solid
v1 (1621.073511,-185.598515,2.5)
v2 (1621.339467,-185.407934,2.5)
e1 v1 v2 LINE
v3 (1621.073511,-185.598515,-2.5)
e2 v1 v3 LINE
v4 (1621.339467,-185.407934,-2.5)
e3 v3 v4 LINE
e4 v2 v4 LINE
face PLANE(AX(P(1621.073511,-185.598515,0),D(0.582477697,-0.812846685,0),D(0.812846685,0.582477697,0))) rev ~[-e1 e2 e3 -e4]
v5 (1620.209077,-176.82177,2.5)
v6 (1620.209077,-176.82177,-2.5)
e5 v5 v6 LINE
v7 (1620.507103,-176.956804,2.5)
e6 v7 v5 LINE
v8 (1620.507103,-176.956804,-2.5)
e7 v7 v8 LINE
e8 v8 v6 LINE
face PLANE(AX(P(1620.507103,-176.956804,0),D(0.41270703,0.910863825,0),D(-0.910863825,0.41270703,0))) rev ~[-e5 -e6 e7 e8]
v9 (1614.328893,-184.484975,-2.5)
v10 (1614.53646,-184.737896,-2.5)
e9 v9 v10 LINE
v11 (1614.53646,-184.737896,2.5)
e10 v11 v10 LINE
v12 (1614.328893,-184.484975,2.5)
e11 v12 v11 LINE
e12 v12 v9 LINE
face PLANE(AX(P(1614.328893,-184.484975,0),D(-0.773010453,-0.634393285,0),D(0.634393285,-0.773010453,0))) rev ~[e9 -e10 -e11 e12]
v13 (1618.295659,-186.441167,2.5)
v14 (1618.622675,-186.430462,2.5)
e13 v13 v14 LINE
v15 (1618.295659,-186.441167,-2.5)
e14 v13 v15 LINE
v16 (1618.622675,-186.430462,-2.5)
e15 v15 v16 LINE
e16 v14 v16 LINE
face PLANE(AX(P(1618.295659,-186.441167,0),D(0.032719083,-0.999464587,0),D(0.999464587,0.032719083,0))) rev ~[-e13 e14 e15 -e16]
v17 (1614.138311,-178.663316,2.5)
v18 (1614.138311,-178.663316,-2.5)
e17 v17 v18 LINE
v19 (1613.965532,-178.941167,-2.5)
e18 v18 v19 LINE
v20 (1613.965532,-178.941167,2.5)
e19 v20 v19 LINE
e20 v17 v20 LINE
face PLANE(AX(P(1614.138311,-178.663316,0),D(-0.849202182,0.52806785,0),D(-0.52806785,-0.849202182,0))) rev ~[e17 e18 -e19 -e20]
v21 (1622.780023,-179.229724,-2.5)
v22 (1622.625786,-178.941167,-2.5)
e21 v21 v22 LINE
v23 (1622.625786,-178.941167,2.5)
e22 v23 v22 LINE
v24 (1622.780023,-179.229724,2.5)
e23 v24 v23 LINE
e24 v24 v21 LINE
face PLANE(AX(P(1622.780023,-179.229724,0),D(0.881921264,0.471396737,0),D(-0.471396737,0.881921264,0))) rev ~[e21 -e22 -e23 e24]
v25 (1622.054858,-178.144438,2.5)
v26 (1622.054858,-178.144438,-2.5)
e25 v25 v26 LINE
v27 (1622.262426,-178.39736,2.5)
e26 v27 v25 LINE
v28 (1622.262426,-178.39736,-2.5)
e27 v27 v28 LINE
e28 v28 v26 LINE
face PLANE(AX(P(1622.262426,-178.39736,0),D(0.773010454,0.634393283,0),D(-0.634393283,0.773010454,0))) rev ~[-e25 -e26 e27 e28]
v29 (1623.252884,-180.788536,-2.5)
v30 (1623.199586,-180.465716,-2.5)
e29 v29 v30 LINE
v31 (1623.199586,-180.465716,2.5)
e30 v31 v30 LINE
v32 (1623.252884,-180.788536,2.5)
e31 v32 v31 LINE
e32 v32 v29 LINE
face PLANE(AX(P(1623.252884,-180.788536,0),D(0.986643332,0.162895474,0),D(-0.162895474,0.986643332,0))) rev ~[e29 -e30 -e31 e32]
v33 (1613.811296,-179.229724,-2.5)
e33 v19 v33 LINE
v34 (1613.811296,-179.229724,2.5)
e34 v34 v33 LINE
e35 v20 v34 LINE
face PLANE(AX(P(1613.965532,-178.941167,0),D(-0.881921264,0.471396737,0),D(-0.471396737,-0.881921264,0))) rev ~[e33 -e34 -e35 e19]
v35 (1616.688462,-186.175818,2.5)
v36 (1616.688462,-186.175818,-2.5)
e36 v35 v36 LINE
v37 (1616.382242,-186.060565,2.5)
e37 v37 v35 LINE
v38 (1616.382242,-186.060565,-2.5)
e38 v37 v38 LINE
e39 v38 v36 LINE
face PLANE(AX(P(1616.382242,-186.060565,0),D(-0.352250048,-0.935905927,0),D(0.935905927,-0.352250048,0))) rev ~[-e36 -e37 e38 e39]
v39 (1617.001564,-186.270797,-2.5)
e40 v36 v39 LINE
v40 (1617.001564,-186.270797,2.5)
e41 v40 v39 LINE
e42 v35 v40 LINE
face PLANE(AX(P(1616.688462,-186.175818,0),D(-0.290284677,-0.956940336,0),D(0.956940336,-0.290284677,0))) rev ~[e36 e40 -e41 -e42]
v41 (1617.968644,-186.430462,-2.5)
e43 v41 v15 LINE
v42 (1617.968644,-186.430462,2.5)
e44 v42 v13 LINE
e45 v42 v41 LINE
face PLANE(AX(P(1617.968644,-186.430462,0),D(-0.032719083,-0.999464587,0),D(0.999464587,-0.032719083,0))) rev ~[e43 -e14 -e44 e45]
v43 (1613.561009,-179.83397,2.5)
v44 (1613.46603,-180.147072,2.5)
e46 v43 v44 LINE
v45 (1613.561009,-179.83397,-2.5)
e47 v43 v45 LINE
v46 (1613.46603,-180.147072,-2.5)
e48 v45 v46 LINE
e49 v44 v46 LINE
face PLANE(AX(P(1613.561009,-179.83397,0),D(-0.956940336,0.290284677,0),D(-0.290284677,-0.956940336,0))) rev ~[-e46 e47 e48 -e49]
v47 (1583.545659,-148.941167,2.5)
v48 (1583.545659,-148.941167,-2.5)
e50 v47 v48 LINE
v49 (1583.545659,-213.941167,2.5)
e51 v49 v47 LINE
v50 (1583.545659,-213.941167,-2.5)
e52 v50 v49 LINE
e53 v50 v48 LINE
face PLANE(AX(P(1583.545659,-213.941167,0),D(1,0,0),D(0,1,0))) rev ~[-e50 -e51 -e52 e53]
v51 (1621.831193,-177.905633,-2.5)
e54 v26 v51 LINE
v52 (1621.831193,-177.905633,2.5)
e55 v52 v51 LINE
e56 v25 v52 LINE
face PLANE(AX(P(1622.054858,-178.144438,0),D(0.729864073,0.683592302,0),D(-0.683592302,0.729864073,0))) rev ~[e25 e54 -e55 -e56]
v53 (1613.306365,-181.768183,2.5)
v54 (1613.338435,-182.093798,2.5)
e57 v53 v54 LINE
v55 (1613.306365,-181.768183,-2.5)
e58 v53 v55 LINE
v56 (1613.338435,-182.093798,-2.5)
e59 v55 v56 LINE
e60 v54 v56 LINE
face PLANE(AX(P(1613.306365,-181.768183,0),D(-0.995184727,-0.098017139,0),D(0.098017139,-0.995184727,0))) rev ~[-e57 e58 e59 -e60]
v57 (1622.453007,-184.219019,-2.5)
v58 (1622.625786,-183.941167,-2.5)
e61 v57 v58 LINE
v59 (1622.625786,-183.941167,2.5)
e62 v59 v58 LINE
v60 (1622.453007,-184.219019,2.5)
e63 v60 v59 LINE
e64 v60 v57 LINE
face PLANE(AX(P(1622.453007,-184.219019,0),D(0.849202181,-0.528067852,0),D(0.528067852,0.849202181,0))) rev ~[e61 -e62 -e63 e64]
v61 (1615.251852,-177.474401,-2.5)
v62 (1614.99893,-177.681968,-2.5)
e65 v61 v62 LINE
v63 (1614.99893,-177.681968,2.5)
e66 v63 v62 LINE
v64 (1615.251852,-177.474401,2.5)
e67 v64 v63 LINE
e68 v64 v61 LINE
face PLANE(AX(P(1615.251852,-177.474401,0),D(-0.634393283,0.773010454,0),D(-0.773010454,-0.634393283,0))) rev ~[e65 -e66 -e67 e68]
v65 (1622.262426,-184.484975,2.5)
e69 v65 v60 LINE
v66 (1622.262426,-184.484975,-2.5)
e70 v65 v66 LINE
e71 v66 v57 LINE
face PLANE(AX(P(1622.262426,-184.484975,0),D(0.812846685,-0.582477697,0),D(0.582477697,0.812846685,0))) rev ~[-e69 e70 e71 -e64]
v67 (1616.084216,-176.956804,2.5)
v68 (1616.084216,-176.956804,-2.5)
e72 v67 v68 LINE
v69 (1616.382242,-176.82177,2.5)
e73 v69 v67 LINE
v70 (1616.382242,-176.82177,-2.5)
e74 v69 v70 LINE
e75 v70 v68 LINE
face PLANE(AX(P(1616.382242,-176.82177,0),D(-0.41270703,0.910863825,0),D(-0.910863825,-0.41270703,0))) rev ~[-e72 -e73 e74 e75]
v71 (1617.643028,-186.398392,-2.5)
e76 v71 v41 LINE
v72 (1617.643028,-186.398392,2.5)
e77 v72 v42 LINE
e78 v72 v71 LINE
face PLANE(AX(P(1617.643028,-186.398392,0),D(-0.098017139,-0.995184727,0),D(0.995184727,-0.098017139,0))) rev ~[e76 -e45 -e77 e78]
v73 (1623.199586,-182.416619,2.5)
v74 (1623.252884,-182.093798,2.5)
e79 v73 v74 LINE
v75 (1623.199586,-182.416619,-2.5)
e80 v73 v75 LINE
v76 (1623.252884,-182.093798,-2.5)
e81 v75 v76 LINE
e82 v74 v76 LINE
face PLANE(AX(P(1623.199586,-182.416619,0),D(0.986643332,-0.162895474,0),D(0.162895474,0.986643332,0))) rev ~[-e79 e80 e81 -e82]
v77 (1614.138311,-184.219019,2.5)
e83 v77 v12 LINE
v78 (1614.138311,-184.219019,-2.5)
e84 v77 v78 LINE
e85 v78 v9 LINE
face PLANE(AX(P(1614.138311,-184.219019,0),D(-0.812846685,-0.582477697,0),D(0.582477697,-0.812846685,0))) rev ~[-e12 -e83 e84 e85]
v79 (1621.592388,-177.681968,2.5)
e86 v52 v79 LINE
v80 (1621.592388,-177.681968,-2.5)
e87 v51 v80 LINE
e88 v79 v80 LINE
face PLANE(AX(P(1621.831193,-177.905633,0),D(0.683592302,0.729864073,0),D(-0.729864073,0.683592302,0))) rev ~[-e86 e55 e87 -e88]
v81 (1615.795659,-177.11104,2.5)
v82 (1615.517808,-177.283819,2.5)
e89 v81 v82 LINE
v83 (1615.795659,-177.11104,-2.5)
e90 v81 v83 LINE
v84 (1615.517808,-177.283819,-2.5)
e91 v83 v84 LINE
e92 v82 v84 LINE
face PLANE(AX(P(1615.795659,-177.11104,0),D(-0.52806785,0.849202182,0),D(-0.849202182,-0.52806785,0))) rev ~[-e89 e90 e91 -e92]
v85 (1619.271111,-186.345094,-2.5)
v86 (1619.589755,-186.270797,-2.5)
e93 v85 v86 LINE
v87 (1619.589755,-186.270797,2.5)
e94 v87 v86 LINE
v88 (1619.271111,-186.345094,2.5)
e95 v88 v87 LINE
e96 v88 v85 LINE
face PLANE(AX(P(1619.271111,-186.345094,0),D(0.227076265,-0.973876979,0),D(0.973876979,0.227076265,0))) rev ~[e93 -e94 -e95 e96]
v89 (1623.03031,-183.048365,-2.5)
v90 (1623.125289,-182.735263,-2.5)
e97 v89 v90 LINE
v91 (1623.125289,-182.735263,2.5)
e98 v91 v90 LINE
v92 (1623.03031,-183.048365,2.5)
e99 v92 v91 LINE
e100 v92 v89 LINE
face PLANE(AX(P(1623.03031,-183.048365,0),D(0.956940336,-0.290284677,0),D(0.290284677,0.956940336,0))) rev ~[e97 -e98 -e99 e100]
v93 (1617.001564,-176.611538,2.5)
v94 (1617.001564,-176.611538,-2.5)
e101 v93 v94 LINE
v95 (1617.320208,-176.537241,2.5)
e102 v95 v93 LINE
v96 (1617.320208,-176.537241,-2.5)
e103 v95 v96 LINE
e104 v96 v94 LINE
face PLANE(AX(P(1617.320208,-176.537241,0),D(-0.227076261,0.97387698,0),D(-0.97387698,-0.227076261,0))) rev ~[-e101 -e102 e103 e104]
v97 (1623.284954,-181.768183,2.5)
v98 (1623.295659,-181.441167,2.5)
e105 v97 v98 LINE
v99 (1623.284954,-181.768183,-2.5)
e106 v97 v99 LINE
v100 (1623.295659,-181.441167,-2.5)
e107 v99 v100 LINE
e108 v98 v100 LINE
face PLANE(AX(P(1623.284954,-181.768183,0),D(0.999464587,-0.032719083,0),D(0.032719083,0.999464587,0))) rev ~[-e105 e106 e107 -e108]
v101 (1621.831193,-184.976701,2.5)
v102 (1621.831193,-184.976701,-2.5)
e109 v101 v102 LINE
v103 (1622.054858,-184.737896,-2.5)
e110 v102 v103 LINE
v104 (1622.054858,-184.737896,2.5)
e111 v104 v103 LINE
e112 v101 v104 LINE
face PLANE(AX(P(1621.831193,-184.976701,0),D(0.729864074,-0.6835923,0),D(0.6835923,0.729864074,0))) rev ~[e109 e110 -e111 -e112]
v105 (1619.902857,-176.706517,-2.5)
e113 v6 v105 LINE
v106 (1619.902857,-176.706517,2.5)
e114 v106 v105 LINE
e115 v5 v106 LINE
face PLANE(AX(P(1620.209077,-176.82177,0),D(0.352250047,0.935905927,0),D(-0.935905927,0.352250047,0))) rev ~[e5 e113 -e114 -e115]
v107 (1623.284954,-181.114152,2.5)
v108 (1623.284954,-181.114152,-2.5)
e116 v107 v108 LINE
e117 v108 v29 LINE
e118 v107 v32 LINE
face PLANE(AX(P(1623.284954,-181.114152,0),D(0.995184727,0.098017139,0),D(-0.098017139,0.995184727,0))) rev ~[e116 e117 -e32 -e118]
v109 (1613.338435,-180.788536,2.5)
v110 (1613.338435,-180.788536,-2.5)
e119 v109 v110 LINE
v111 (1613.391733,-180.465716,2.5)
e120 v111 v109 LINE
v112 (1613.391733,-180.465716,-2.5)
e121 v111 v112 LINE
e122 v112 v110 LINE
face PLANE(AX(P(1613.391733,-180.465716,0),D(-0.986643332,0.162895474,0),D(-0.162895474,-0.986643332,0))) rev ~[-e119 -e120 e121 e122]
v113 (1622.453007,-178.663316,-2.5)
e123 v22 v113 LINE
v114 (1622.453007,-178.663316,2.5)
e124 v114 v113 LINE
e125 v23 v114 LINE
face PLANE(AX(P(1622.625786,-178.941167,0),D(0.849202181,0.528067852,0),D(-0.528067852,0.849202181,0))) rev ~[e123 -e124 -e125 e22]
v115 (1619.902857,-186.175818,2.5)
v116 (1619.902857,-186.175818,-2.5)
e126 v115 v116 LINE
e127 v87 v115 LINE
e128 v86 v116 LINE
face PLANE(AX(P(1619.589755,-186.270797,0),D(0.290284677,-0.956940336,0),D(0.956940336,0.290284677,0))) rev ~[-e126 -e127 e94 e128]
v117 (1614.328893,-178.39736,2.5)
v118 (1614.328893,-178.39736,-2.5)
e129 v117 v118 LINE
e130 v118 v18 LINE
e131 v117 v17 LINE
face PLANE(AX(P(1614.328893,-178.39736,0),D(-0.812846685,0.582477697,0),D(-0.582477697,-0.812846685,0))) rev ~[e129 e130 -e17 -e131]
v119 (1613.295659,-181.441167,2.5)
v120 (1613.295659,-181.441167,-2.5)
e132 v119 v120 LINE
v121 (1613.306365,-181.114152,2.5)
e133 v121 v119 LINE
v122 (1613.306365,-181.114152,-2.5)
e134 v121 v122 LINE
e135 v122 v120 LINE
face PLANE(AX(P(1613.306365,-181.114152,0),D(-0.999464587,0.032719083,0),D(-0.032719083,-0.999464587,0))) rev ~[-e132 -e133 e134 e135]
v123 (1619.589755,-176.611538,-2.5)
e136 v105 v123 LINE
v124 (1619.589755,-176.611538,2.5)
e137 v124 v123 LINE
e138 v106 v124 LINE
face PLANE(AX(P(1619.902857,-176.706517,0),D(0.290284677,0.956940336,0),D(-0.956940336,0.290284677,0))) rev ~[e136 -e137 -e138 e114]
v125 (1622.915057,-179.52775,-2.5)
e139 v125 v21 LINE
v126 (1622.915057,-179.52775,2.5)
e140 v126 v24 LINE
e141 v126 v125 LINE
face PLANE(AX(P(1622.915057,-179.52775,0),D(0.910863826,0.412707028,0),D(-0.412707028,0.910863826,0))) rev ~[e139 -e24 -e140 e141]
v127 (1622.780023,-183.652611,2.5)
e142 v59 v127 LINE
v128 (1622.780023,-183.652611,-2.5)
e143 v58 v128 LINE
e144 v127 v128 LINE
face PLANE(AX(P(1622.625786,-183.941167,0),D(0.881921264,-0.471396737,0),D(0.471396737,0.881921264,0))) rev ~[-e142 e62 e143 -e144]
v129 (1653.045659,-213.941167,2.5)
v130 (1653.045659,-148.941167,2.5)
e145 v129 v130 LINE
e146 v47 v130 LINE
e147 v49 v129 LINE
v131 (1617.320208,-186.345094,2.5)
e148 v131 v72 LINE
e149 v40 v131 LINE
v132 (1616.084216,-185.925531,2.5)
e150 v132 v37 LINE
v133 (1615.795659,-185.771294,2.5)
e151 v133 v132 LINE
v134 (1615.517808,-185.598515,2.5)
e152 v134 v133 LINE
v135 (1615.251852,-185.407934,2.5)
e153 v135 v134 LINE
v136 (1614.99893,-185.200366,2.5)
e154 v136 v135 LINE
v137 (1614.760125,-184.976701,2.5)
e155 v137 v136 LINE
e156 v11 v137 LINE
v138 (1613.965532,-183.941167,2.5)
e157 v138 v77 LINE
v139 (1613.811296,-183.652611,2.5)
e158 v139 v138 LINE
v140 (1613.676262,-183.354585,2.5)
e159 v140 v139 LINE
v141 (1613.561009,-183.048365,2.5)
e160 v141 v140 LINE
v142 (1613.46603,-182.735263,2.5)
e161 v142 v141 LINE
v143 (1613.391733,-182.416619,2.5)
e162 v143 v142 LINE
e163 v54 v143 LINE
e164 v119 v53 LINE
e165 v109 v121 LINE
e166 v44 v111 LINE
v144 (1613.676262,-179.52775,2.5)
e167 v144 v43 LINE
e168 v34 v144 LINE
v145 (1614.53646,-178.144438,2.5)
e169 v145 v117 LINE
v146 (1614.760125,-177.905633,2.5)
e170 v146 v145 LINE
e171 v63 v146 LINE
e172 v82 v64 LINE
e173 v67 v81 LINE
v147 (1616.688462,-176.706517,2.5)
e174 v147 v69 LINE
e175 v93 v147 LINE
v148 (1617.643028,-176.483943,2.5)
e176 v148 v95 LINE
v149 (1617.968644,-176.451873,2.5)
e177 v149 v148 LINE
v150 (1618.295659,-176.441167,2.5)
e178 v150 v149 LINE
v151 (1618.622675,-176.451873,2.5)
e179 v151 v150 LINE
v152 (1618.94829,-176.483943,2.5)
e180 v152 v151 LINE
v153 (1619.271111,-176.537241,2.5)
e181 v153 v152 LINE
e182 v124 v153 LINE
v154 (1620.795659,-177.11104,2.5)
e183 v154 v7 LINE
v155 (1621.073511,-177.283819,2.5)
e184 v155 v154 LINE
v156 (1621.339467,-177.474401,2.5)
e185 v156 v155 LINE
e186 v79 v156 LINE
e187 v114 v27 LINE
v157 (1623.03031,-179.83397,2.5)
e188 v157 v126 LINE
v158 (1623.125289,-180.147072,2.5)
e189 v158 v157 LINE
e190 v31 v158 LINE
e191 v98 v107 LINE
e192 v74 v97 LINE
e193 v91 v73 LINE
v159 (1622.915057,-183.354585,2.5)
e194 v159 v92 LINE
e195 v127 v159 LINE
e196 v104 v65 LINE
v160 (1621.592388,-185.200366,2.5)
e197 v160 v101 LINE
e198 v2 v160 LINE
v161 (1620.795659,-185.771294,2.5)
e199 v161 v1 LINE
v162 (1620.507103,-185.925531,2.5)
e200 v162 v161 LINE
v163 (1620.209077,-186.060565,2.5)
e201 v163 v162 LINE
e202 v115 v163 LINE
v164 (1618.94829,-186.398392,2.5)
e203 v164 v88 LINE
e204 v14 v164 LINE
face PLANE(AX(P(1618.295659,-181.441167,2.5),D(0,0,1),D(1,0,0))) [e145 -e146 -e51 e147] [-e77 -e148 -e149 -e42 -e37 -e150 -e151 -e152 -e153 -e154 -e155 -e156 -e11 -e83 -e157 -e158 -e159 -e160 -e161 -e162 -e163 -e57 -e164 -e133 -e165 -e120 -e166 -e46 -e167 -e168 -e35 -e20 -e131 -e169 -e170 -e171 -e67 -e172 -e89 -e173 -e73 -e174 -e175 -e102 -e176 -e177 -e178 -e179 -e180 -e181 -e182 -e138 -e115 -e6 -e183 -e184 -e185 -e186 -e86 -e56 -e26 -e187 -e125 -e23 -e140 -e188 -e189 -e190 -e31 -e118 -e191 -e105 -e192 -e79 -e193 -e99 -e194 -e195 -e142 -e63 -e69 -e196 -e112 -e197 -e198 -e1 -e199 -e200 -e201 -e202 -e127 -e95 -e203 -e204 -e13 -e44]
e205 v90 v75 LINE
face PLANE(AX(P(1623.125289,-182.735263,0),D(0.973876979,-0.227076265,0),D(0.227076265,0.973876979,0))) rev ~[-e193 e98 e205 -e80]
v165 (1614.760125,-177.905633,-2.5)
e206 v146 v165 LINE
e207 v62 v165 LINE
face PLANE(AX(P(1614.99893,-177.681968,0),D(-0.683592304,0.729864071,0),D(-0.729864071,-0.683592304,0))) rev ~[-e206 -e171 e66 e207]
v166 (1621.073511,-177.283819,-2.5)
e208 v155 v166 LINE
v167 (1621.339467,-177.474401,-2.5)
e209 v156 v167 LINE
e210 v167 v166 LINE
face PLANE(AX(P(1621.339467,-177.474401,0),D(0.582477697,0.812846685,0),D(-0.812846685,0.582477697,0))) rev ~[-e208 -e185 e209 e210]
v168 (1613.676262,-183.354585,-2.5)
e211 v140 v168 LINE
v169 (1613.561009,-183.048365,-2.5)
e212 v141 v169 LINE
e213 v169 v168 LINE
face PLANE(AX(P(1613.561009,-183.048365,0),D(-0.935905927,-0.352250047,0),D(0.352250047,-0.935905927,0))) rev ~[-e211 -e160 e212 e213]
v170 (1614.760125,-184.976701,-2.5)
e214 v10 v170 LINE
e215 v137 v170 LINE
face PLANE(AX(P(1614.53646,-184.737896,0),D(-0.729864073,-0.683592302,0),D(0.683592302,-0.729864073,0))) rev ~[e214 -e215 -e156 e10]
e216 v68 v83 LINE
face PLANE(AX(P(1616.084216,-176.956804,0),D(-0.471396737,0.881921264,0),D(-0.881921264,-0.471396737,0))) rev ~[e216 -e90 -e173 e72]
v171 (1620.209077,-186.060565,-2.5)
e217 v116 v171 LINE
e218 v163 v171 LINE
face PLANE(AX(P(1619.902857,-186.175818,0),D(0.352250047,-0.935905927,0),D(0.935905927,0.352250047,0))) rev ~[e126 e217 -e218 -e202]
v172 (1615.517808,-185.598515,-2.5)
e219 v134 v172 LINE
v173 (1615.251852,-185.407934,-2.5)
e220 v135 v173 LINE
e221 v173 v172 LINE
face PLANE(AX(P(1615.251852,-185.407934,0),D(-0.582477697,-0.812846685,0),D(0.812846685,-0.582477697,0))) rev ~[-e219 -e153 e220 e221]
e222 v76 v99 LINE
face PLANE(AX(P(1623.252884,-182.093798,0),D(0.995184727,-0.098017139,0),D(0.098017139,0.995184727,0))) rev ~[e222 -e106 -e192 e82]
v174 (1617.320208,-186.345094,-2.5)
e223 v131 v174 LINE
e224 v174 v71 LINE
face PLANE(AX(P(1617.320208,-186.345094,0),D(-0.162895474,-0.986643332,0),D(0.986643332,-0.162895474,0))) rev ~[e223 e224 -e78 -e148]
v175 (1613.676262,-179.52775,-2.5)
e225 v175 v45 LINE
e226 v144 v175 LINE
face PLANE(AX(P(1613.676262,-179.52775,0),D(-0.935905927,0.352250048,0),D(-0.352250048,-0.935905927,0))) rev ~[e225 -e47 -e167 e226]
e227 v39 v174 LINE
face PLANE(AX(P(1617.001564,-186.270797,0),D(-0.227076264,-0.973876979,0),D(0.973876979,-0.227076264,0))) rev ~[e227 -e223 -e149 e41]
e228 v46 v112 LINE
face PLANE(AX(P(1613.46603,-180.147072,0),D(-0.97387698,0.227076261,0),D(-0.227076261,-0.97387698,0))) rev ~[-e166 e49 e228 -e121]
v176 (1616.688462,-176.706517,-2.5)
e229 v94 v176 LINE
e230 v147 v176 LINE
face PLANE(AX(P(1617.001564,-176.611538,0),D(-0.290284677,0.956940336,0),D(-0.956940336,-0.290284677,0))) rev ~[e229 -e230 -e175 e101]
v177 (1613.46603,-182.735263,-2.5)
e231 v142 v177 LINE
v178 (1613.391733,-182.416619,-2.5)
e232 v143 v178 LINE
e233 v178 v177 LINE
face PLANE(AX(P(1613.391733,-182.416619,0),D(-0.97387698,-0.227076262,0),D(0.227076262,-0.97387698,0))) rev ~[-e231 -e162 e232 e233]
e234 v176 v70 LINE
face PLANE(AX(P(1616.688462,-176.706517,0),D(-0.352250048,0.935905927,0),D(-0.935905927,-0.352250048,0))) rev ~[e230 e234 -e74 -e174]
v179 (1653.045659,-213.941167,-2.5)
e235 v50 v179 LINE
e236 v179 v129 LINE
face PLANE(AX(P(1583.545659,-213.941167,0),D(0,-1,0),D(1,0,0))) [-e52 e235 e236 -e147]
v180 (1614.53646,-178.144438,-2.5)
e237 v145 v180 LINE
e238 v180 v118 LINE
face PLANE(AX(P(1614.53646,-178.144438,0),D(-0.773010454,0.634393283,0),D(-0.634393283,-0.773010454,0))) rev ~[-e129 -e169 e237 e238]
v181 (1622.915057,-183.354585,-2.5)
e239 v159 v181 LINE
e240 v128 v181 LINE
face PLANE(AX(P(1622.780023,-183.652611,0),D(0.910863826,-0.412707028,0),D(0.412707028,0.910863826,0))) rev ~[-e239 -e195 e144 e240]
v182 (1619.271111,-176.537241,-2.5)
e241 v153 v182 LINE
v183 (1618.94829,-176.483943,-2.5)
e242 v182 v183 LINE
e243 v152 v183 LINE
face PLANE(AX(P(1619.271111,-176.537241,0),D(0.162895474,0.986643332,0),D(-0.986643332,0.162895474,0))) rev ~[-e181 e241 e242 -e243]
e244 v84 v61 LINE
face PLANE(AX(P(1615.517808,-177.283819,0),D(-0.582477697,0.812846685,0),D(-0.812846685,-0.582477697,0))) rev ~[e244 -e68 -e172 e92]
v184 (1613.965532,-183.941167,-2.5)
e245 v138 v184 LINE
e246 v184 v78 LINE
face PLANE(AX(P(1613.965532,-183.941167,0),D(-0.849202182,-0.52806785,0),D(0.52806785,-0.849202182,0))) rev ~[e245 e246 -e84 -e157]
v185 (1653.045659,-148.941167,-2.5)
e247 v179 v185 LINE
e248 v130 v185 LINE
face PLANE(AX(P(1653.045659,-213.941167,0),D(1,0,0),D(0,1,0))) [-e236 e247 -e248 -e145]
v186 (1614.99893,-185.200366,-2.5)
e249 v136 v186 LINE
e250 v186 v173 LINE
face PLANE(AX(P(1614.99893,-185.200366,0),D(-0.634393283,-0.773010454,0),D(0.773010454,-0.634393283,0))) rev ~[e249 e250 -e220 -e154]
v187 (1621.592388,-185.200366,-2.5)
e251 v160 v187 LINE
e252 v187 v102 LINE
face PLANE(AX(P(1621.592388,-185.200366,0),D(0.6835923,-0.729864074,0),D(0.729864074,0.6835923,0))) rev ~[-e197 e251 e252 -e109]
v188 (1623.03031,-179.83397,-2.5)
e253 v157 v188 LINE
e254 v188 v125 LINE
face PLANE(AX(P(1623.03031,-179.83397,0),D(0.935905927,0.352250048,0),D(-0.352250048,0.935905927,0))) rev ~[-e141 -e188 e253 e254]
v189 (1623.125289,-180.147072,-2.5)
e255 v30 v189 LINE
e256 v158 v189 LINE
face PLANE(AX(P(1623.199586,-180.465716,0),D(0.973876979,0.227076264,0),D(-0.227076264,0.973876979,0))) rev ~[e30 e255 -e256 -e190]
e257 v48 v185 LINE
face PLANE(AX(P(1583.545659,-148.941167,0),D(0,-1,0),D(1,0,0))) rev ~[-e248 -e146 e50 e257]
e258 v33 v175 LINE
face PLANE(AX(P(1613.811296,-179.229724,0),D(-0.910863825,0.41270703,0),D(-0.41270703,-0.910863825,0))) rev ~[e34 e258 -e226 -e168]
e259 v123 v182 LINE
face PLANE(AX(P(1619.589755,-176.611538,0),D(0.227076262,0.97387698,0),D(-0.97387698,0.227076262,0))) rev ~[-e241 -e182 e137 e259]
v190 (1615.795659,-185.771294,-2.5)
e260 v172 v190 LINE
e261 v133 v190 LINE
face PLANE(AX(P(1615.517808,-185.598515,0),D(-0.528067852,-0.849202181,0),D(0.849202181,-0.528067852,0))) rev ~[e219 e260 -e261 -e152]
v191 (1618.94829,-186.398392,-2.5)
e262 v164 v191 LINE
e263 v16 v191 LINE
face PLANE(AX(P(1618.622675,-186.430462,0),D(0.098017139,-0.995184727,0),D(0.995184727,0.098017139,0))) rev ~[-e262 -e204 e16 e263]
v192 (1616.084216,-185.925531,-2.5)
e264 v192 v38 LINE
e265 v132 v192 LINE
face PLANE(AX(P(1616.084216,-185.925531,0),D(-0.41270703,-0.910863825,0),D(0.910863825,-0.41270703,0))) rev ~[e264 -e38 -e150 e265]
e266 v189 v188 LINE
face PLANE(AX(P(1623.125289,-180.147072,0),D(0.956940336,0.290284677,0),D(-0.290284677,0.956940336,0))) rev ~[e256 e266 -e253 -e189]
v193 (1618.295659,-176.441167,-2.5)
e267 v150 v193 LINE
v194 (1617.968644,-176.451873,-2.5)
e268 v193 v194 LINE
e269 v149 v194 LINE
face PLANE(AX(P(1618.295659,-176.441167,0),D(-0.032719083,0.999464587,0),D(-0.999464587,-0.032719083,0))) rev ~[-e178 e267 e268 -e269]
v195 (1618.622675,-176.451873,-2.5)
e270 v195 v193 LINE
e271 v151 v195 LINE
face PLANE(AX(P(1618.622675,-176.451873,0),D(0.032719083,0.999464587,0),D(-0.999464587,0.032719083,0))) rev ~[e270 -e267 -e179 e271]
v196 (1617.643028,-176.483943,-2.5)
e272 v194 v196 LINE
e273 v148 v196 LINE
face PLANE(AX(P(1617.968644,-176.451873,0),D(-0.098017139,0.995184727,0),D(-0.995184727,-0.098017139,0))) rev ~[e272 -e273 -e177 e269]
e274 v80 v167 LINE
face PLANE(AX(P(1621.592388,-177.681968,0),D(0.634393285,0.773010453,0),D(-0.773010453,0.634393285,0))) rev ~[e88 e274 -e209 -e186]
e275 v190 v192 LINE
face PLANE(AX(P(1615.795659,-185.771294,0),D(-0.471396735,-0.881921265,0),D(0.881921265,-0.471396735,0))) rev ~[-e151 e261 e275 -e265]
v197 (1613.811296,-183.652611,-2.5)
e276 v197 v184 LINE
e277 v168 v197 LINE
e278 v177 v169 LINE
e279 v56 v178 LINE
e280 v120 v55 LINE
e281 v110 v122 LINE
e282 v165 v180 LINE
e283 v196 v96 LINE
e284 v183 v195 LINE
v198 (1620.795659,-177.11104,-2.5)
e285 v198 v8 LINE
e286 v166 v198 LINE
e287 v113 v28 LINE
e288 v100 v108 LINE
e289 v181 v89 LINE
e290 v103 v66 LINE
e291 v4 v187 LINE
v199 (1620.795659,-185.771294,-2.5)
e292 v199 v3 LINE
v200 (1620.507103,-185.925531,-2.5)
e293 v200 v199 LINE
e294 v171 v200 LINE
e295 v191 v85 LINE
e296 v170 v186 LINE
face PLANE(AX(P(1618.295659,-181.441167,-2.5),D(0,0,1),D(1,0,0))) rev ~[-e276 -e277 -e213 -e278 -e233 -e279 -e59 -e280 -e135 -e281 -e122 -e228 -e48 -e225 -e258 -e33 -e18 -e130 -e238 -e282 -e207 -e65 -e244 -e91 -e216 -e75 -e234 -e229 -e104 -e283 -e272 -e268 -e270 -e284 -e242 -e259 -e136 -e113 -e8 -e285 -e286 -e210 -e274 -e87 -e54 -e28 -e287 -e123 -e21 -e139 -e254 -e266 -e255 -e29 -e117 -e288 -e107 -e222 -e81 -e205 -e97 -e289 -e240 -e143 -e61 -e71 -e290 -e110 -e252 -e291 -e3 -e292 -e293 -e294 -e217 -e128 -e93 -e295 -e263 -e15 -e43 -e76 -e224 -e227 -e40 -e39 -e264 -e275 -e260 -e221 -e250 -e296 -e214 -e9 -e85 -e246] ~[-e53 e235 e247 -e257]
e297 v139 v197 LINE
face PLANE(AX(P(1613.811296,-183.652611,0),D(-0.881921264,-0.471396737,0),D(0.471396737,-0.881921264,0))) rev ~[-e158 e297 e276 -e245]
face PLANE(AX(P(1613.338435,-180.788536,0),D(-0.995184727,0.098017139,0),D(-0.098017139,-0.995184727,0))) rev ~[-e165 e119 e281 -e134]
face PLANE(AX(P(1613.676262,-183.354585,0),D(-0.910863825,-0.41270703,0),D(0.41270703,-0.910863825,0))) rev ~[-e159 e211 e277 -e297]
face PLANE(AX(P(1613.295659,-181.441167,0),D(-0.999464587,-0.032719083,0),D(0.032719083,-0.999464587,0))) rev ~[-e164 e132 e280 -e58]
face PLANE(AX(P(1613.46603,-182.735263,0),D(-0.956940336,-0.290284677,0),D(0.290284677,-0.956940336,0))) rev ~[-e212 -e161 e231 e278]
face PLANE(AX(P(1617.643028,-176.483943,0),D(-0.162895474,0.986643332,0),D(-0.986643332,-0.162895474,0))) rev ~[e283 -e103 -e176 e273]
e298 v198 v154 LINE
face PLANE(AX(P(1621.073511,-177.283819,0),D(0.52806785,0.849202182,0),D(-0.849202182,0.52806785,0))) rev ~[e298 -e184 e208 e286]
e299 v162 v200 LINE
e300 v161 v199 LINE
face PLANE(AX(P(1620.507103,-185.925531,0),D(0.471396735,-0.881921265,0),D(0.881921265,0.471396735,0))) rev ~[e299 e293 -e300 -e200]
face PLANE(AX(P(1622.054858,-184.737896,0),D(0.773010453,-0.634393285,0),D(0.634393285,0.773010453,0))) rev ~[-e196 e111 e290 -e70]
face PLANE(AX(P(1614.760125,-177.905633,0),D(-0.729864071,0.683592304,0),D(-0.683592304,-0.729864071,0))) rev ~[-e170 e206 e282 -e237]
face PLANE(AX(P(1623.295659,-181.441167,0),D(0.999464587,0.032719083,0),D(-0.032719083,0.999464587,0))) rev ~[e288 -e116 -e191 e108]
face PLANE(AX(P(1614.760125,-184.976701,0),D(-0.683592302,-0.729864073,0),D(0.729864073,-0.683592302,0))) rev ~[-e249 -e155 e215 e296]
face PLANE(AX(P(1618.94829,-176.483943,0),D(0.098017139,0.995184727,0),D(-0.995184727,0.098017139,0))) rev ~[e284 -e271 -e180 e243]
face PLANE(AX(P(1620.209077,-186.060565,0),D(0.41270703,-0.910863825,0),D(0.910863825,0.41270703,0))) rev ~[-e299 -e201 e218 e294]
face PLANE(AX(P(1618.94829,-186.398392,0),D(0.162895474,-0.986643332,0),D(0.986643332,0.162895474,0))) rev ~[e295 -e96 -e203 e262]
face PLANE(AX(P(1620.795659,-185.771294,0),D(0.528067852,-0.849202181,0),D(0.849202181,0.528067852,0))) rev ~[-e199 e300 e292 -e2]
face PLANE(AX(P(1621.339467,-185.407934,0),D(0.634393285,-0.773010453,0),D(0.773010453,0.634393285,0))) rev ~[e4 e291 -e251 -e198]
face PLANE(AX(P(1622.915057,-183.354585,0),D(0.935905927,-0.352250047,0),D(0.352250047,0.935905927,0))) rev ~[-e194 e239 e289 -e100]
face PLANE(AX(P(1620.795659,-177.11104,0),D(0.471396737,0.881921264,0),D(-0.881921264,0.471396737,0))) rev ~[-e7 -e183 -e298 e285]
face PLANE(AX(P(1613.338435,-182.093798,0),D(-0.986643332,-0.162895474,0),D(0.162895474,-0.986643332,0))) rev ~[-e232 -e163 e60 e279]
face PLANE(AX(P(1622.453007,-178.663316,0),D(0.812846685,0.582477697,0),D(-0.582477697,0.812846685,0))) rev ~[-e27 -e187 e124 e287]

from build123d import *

# Parameters (mm, degrees)
SKETCH1_W           = 69.5
SKETCH1_H           = 65
BOSS_EXTRUDE1_DEPTH = 2.5


with BuildPart() as part:
    # Sketch1 → Boss-Extrude1 (new, symmetric)
    with BuildSketch(Plane.XY):
        with Locations((1618.295659386, -181.441167375)):
            Rectangle(SKETCH1_W, SKETCH1_H)
        Polygon((1620.795659386, -177.111040356), (1620.507102837, -176.956803667), (1620.209076548, -176.821769712), (1619.902856712, -176.706516727), (1619.589754611, -176.611538243), (1619.271110996, -176.537240973), (1618.948290347, -176.483943068), (1618.622675032, -176.451872759), (1618.295659386, -176.441167375), (1617.96864374, -176.451872759), (1617.643028425, -176.483943068), (1617.320207776, -176.537240973), (1617.00156416, -176.611538243), (1616.688462059, -176.706516727), (1616.382242224, -176.821769712), (1616.084215935, -176.956803667), (1615.795659386, -177.111040356), (1615.517808221, -177.283819313), (1615.251852241, -177.474400673), (1614.99893031, -177.681968337), (1614.76012548, -177.905633469), (1614.536460348, -178.144438299), (1614.328892684, -178.39736023), (1614.138311324, -178.66331621), (1613.965532367, -178.941167375), (1613.811295678, -179.229723924), (1613.676261723, -179.527750213), (1613.561008738, -179.833970048), (1613.466030254, -180.147072149), (1613.391732984, -180.465715765), (1613.338435079, -180.788536414), (1613.30636477, -181.114151729), (1613.295659386, -181.441167375), (1613.30636477, -181.768183021), (1613.338435079, -182.093798336), (1613.391732984, -182.416618985), (1613.466030254, -182.7352626), (1613.561008738, -183.048364701), (1613.676261723, -183.354584537), (1613.811295678, -183.652610826), (1613.965532367, -183.941167375), (1614.138311324, -184.21901854), (1614.328892684, -184.48497452), (1614.536460348, -184.73789645), (1614.76012548, -184.976701281), (1614.99893031, -185.200366412), (1615.251852241, -185.407934076), (1615.517808221, -185.598515436), (1615.795659386, -185.771294394), (1616.084215935, -185.925531082), (1616.382242224, -186.060565037), (1616.688462059, -186.175818022), (1617.00156416, -186.270796506), (1617.320207776, -186.345093777), (1617.643028425, -186.398391682), (1617.96864374, -186.430461991), (1618.295659386, -186.441167375), (1618.622675032, -186.430461991), (1618.948290347, -186.398391682), (1619.271110996, -186.345093777), (1619.589754611, -186.270796506), (1619.902856712, -186.175818022), (1620.209076548, -186.060565037), (1620.507102837, -185.925531082), (1620.795659386, -185.771294394), (1621.073510551, -185.598515436), (1621.339466531, -185.407934076), (1621.592388461, -185.200366412), (1621.831193292, -184.976701281), (1622.054858423, -184.73789645), (1622.262426087, -184.48497452), (1622.453007447, -184.21901854), (1622.625786405, -183.941167375), (1622.780023094, -183.652610826), (1622.915057048, -183.354584537), (1623.030310033, -183.048364701), (1623.125288517, -182.7352626), (1623.199585788, -182.416618985), (1623.252883693, -182.093798336), (1623.284954002, -181.768183021), (1623.295659386, -181.441167375), (1623.284954002, -181.114151729), (1623.252883693, -180.788536414), (1623.199585788, -180.465715765), (1623.125288517, -180.147072149), (1623.030310033, -179.833970048), (1622.915057048, -179.527750213), (1622.780023094, -179.229723924), (1622.625786405, -178.941167375), (1622.453007447, -178.66331621), (1622.262426087, -178.39736023), (1622.054858423, -178.144438299), (1621.831193292, -177.905633469), (1621.592388461, -177.681968337), (1621.339466531, -177.474400673), (1621.073510551, -177.283819313), align=None, mode=Mode.SUBTRACT)
    extrude(amount=BOSS_EXTRUDE1_DEPTH, both=True)


solid = part.part
